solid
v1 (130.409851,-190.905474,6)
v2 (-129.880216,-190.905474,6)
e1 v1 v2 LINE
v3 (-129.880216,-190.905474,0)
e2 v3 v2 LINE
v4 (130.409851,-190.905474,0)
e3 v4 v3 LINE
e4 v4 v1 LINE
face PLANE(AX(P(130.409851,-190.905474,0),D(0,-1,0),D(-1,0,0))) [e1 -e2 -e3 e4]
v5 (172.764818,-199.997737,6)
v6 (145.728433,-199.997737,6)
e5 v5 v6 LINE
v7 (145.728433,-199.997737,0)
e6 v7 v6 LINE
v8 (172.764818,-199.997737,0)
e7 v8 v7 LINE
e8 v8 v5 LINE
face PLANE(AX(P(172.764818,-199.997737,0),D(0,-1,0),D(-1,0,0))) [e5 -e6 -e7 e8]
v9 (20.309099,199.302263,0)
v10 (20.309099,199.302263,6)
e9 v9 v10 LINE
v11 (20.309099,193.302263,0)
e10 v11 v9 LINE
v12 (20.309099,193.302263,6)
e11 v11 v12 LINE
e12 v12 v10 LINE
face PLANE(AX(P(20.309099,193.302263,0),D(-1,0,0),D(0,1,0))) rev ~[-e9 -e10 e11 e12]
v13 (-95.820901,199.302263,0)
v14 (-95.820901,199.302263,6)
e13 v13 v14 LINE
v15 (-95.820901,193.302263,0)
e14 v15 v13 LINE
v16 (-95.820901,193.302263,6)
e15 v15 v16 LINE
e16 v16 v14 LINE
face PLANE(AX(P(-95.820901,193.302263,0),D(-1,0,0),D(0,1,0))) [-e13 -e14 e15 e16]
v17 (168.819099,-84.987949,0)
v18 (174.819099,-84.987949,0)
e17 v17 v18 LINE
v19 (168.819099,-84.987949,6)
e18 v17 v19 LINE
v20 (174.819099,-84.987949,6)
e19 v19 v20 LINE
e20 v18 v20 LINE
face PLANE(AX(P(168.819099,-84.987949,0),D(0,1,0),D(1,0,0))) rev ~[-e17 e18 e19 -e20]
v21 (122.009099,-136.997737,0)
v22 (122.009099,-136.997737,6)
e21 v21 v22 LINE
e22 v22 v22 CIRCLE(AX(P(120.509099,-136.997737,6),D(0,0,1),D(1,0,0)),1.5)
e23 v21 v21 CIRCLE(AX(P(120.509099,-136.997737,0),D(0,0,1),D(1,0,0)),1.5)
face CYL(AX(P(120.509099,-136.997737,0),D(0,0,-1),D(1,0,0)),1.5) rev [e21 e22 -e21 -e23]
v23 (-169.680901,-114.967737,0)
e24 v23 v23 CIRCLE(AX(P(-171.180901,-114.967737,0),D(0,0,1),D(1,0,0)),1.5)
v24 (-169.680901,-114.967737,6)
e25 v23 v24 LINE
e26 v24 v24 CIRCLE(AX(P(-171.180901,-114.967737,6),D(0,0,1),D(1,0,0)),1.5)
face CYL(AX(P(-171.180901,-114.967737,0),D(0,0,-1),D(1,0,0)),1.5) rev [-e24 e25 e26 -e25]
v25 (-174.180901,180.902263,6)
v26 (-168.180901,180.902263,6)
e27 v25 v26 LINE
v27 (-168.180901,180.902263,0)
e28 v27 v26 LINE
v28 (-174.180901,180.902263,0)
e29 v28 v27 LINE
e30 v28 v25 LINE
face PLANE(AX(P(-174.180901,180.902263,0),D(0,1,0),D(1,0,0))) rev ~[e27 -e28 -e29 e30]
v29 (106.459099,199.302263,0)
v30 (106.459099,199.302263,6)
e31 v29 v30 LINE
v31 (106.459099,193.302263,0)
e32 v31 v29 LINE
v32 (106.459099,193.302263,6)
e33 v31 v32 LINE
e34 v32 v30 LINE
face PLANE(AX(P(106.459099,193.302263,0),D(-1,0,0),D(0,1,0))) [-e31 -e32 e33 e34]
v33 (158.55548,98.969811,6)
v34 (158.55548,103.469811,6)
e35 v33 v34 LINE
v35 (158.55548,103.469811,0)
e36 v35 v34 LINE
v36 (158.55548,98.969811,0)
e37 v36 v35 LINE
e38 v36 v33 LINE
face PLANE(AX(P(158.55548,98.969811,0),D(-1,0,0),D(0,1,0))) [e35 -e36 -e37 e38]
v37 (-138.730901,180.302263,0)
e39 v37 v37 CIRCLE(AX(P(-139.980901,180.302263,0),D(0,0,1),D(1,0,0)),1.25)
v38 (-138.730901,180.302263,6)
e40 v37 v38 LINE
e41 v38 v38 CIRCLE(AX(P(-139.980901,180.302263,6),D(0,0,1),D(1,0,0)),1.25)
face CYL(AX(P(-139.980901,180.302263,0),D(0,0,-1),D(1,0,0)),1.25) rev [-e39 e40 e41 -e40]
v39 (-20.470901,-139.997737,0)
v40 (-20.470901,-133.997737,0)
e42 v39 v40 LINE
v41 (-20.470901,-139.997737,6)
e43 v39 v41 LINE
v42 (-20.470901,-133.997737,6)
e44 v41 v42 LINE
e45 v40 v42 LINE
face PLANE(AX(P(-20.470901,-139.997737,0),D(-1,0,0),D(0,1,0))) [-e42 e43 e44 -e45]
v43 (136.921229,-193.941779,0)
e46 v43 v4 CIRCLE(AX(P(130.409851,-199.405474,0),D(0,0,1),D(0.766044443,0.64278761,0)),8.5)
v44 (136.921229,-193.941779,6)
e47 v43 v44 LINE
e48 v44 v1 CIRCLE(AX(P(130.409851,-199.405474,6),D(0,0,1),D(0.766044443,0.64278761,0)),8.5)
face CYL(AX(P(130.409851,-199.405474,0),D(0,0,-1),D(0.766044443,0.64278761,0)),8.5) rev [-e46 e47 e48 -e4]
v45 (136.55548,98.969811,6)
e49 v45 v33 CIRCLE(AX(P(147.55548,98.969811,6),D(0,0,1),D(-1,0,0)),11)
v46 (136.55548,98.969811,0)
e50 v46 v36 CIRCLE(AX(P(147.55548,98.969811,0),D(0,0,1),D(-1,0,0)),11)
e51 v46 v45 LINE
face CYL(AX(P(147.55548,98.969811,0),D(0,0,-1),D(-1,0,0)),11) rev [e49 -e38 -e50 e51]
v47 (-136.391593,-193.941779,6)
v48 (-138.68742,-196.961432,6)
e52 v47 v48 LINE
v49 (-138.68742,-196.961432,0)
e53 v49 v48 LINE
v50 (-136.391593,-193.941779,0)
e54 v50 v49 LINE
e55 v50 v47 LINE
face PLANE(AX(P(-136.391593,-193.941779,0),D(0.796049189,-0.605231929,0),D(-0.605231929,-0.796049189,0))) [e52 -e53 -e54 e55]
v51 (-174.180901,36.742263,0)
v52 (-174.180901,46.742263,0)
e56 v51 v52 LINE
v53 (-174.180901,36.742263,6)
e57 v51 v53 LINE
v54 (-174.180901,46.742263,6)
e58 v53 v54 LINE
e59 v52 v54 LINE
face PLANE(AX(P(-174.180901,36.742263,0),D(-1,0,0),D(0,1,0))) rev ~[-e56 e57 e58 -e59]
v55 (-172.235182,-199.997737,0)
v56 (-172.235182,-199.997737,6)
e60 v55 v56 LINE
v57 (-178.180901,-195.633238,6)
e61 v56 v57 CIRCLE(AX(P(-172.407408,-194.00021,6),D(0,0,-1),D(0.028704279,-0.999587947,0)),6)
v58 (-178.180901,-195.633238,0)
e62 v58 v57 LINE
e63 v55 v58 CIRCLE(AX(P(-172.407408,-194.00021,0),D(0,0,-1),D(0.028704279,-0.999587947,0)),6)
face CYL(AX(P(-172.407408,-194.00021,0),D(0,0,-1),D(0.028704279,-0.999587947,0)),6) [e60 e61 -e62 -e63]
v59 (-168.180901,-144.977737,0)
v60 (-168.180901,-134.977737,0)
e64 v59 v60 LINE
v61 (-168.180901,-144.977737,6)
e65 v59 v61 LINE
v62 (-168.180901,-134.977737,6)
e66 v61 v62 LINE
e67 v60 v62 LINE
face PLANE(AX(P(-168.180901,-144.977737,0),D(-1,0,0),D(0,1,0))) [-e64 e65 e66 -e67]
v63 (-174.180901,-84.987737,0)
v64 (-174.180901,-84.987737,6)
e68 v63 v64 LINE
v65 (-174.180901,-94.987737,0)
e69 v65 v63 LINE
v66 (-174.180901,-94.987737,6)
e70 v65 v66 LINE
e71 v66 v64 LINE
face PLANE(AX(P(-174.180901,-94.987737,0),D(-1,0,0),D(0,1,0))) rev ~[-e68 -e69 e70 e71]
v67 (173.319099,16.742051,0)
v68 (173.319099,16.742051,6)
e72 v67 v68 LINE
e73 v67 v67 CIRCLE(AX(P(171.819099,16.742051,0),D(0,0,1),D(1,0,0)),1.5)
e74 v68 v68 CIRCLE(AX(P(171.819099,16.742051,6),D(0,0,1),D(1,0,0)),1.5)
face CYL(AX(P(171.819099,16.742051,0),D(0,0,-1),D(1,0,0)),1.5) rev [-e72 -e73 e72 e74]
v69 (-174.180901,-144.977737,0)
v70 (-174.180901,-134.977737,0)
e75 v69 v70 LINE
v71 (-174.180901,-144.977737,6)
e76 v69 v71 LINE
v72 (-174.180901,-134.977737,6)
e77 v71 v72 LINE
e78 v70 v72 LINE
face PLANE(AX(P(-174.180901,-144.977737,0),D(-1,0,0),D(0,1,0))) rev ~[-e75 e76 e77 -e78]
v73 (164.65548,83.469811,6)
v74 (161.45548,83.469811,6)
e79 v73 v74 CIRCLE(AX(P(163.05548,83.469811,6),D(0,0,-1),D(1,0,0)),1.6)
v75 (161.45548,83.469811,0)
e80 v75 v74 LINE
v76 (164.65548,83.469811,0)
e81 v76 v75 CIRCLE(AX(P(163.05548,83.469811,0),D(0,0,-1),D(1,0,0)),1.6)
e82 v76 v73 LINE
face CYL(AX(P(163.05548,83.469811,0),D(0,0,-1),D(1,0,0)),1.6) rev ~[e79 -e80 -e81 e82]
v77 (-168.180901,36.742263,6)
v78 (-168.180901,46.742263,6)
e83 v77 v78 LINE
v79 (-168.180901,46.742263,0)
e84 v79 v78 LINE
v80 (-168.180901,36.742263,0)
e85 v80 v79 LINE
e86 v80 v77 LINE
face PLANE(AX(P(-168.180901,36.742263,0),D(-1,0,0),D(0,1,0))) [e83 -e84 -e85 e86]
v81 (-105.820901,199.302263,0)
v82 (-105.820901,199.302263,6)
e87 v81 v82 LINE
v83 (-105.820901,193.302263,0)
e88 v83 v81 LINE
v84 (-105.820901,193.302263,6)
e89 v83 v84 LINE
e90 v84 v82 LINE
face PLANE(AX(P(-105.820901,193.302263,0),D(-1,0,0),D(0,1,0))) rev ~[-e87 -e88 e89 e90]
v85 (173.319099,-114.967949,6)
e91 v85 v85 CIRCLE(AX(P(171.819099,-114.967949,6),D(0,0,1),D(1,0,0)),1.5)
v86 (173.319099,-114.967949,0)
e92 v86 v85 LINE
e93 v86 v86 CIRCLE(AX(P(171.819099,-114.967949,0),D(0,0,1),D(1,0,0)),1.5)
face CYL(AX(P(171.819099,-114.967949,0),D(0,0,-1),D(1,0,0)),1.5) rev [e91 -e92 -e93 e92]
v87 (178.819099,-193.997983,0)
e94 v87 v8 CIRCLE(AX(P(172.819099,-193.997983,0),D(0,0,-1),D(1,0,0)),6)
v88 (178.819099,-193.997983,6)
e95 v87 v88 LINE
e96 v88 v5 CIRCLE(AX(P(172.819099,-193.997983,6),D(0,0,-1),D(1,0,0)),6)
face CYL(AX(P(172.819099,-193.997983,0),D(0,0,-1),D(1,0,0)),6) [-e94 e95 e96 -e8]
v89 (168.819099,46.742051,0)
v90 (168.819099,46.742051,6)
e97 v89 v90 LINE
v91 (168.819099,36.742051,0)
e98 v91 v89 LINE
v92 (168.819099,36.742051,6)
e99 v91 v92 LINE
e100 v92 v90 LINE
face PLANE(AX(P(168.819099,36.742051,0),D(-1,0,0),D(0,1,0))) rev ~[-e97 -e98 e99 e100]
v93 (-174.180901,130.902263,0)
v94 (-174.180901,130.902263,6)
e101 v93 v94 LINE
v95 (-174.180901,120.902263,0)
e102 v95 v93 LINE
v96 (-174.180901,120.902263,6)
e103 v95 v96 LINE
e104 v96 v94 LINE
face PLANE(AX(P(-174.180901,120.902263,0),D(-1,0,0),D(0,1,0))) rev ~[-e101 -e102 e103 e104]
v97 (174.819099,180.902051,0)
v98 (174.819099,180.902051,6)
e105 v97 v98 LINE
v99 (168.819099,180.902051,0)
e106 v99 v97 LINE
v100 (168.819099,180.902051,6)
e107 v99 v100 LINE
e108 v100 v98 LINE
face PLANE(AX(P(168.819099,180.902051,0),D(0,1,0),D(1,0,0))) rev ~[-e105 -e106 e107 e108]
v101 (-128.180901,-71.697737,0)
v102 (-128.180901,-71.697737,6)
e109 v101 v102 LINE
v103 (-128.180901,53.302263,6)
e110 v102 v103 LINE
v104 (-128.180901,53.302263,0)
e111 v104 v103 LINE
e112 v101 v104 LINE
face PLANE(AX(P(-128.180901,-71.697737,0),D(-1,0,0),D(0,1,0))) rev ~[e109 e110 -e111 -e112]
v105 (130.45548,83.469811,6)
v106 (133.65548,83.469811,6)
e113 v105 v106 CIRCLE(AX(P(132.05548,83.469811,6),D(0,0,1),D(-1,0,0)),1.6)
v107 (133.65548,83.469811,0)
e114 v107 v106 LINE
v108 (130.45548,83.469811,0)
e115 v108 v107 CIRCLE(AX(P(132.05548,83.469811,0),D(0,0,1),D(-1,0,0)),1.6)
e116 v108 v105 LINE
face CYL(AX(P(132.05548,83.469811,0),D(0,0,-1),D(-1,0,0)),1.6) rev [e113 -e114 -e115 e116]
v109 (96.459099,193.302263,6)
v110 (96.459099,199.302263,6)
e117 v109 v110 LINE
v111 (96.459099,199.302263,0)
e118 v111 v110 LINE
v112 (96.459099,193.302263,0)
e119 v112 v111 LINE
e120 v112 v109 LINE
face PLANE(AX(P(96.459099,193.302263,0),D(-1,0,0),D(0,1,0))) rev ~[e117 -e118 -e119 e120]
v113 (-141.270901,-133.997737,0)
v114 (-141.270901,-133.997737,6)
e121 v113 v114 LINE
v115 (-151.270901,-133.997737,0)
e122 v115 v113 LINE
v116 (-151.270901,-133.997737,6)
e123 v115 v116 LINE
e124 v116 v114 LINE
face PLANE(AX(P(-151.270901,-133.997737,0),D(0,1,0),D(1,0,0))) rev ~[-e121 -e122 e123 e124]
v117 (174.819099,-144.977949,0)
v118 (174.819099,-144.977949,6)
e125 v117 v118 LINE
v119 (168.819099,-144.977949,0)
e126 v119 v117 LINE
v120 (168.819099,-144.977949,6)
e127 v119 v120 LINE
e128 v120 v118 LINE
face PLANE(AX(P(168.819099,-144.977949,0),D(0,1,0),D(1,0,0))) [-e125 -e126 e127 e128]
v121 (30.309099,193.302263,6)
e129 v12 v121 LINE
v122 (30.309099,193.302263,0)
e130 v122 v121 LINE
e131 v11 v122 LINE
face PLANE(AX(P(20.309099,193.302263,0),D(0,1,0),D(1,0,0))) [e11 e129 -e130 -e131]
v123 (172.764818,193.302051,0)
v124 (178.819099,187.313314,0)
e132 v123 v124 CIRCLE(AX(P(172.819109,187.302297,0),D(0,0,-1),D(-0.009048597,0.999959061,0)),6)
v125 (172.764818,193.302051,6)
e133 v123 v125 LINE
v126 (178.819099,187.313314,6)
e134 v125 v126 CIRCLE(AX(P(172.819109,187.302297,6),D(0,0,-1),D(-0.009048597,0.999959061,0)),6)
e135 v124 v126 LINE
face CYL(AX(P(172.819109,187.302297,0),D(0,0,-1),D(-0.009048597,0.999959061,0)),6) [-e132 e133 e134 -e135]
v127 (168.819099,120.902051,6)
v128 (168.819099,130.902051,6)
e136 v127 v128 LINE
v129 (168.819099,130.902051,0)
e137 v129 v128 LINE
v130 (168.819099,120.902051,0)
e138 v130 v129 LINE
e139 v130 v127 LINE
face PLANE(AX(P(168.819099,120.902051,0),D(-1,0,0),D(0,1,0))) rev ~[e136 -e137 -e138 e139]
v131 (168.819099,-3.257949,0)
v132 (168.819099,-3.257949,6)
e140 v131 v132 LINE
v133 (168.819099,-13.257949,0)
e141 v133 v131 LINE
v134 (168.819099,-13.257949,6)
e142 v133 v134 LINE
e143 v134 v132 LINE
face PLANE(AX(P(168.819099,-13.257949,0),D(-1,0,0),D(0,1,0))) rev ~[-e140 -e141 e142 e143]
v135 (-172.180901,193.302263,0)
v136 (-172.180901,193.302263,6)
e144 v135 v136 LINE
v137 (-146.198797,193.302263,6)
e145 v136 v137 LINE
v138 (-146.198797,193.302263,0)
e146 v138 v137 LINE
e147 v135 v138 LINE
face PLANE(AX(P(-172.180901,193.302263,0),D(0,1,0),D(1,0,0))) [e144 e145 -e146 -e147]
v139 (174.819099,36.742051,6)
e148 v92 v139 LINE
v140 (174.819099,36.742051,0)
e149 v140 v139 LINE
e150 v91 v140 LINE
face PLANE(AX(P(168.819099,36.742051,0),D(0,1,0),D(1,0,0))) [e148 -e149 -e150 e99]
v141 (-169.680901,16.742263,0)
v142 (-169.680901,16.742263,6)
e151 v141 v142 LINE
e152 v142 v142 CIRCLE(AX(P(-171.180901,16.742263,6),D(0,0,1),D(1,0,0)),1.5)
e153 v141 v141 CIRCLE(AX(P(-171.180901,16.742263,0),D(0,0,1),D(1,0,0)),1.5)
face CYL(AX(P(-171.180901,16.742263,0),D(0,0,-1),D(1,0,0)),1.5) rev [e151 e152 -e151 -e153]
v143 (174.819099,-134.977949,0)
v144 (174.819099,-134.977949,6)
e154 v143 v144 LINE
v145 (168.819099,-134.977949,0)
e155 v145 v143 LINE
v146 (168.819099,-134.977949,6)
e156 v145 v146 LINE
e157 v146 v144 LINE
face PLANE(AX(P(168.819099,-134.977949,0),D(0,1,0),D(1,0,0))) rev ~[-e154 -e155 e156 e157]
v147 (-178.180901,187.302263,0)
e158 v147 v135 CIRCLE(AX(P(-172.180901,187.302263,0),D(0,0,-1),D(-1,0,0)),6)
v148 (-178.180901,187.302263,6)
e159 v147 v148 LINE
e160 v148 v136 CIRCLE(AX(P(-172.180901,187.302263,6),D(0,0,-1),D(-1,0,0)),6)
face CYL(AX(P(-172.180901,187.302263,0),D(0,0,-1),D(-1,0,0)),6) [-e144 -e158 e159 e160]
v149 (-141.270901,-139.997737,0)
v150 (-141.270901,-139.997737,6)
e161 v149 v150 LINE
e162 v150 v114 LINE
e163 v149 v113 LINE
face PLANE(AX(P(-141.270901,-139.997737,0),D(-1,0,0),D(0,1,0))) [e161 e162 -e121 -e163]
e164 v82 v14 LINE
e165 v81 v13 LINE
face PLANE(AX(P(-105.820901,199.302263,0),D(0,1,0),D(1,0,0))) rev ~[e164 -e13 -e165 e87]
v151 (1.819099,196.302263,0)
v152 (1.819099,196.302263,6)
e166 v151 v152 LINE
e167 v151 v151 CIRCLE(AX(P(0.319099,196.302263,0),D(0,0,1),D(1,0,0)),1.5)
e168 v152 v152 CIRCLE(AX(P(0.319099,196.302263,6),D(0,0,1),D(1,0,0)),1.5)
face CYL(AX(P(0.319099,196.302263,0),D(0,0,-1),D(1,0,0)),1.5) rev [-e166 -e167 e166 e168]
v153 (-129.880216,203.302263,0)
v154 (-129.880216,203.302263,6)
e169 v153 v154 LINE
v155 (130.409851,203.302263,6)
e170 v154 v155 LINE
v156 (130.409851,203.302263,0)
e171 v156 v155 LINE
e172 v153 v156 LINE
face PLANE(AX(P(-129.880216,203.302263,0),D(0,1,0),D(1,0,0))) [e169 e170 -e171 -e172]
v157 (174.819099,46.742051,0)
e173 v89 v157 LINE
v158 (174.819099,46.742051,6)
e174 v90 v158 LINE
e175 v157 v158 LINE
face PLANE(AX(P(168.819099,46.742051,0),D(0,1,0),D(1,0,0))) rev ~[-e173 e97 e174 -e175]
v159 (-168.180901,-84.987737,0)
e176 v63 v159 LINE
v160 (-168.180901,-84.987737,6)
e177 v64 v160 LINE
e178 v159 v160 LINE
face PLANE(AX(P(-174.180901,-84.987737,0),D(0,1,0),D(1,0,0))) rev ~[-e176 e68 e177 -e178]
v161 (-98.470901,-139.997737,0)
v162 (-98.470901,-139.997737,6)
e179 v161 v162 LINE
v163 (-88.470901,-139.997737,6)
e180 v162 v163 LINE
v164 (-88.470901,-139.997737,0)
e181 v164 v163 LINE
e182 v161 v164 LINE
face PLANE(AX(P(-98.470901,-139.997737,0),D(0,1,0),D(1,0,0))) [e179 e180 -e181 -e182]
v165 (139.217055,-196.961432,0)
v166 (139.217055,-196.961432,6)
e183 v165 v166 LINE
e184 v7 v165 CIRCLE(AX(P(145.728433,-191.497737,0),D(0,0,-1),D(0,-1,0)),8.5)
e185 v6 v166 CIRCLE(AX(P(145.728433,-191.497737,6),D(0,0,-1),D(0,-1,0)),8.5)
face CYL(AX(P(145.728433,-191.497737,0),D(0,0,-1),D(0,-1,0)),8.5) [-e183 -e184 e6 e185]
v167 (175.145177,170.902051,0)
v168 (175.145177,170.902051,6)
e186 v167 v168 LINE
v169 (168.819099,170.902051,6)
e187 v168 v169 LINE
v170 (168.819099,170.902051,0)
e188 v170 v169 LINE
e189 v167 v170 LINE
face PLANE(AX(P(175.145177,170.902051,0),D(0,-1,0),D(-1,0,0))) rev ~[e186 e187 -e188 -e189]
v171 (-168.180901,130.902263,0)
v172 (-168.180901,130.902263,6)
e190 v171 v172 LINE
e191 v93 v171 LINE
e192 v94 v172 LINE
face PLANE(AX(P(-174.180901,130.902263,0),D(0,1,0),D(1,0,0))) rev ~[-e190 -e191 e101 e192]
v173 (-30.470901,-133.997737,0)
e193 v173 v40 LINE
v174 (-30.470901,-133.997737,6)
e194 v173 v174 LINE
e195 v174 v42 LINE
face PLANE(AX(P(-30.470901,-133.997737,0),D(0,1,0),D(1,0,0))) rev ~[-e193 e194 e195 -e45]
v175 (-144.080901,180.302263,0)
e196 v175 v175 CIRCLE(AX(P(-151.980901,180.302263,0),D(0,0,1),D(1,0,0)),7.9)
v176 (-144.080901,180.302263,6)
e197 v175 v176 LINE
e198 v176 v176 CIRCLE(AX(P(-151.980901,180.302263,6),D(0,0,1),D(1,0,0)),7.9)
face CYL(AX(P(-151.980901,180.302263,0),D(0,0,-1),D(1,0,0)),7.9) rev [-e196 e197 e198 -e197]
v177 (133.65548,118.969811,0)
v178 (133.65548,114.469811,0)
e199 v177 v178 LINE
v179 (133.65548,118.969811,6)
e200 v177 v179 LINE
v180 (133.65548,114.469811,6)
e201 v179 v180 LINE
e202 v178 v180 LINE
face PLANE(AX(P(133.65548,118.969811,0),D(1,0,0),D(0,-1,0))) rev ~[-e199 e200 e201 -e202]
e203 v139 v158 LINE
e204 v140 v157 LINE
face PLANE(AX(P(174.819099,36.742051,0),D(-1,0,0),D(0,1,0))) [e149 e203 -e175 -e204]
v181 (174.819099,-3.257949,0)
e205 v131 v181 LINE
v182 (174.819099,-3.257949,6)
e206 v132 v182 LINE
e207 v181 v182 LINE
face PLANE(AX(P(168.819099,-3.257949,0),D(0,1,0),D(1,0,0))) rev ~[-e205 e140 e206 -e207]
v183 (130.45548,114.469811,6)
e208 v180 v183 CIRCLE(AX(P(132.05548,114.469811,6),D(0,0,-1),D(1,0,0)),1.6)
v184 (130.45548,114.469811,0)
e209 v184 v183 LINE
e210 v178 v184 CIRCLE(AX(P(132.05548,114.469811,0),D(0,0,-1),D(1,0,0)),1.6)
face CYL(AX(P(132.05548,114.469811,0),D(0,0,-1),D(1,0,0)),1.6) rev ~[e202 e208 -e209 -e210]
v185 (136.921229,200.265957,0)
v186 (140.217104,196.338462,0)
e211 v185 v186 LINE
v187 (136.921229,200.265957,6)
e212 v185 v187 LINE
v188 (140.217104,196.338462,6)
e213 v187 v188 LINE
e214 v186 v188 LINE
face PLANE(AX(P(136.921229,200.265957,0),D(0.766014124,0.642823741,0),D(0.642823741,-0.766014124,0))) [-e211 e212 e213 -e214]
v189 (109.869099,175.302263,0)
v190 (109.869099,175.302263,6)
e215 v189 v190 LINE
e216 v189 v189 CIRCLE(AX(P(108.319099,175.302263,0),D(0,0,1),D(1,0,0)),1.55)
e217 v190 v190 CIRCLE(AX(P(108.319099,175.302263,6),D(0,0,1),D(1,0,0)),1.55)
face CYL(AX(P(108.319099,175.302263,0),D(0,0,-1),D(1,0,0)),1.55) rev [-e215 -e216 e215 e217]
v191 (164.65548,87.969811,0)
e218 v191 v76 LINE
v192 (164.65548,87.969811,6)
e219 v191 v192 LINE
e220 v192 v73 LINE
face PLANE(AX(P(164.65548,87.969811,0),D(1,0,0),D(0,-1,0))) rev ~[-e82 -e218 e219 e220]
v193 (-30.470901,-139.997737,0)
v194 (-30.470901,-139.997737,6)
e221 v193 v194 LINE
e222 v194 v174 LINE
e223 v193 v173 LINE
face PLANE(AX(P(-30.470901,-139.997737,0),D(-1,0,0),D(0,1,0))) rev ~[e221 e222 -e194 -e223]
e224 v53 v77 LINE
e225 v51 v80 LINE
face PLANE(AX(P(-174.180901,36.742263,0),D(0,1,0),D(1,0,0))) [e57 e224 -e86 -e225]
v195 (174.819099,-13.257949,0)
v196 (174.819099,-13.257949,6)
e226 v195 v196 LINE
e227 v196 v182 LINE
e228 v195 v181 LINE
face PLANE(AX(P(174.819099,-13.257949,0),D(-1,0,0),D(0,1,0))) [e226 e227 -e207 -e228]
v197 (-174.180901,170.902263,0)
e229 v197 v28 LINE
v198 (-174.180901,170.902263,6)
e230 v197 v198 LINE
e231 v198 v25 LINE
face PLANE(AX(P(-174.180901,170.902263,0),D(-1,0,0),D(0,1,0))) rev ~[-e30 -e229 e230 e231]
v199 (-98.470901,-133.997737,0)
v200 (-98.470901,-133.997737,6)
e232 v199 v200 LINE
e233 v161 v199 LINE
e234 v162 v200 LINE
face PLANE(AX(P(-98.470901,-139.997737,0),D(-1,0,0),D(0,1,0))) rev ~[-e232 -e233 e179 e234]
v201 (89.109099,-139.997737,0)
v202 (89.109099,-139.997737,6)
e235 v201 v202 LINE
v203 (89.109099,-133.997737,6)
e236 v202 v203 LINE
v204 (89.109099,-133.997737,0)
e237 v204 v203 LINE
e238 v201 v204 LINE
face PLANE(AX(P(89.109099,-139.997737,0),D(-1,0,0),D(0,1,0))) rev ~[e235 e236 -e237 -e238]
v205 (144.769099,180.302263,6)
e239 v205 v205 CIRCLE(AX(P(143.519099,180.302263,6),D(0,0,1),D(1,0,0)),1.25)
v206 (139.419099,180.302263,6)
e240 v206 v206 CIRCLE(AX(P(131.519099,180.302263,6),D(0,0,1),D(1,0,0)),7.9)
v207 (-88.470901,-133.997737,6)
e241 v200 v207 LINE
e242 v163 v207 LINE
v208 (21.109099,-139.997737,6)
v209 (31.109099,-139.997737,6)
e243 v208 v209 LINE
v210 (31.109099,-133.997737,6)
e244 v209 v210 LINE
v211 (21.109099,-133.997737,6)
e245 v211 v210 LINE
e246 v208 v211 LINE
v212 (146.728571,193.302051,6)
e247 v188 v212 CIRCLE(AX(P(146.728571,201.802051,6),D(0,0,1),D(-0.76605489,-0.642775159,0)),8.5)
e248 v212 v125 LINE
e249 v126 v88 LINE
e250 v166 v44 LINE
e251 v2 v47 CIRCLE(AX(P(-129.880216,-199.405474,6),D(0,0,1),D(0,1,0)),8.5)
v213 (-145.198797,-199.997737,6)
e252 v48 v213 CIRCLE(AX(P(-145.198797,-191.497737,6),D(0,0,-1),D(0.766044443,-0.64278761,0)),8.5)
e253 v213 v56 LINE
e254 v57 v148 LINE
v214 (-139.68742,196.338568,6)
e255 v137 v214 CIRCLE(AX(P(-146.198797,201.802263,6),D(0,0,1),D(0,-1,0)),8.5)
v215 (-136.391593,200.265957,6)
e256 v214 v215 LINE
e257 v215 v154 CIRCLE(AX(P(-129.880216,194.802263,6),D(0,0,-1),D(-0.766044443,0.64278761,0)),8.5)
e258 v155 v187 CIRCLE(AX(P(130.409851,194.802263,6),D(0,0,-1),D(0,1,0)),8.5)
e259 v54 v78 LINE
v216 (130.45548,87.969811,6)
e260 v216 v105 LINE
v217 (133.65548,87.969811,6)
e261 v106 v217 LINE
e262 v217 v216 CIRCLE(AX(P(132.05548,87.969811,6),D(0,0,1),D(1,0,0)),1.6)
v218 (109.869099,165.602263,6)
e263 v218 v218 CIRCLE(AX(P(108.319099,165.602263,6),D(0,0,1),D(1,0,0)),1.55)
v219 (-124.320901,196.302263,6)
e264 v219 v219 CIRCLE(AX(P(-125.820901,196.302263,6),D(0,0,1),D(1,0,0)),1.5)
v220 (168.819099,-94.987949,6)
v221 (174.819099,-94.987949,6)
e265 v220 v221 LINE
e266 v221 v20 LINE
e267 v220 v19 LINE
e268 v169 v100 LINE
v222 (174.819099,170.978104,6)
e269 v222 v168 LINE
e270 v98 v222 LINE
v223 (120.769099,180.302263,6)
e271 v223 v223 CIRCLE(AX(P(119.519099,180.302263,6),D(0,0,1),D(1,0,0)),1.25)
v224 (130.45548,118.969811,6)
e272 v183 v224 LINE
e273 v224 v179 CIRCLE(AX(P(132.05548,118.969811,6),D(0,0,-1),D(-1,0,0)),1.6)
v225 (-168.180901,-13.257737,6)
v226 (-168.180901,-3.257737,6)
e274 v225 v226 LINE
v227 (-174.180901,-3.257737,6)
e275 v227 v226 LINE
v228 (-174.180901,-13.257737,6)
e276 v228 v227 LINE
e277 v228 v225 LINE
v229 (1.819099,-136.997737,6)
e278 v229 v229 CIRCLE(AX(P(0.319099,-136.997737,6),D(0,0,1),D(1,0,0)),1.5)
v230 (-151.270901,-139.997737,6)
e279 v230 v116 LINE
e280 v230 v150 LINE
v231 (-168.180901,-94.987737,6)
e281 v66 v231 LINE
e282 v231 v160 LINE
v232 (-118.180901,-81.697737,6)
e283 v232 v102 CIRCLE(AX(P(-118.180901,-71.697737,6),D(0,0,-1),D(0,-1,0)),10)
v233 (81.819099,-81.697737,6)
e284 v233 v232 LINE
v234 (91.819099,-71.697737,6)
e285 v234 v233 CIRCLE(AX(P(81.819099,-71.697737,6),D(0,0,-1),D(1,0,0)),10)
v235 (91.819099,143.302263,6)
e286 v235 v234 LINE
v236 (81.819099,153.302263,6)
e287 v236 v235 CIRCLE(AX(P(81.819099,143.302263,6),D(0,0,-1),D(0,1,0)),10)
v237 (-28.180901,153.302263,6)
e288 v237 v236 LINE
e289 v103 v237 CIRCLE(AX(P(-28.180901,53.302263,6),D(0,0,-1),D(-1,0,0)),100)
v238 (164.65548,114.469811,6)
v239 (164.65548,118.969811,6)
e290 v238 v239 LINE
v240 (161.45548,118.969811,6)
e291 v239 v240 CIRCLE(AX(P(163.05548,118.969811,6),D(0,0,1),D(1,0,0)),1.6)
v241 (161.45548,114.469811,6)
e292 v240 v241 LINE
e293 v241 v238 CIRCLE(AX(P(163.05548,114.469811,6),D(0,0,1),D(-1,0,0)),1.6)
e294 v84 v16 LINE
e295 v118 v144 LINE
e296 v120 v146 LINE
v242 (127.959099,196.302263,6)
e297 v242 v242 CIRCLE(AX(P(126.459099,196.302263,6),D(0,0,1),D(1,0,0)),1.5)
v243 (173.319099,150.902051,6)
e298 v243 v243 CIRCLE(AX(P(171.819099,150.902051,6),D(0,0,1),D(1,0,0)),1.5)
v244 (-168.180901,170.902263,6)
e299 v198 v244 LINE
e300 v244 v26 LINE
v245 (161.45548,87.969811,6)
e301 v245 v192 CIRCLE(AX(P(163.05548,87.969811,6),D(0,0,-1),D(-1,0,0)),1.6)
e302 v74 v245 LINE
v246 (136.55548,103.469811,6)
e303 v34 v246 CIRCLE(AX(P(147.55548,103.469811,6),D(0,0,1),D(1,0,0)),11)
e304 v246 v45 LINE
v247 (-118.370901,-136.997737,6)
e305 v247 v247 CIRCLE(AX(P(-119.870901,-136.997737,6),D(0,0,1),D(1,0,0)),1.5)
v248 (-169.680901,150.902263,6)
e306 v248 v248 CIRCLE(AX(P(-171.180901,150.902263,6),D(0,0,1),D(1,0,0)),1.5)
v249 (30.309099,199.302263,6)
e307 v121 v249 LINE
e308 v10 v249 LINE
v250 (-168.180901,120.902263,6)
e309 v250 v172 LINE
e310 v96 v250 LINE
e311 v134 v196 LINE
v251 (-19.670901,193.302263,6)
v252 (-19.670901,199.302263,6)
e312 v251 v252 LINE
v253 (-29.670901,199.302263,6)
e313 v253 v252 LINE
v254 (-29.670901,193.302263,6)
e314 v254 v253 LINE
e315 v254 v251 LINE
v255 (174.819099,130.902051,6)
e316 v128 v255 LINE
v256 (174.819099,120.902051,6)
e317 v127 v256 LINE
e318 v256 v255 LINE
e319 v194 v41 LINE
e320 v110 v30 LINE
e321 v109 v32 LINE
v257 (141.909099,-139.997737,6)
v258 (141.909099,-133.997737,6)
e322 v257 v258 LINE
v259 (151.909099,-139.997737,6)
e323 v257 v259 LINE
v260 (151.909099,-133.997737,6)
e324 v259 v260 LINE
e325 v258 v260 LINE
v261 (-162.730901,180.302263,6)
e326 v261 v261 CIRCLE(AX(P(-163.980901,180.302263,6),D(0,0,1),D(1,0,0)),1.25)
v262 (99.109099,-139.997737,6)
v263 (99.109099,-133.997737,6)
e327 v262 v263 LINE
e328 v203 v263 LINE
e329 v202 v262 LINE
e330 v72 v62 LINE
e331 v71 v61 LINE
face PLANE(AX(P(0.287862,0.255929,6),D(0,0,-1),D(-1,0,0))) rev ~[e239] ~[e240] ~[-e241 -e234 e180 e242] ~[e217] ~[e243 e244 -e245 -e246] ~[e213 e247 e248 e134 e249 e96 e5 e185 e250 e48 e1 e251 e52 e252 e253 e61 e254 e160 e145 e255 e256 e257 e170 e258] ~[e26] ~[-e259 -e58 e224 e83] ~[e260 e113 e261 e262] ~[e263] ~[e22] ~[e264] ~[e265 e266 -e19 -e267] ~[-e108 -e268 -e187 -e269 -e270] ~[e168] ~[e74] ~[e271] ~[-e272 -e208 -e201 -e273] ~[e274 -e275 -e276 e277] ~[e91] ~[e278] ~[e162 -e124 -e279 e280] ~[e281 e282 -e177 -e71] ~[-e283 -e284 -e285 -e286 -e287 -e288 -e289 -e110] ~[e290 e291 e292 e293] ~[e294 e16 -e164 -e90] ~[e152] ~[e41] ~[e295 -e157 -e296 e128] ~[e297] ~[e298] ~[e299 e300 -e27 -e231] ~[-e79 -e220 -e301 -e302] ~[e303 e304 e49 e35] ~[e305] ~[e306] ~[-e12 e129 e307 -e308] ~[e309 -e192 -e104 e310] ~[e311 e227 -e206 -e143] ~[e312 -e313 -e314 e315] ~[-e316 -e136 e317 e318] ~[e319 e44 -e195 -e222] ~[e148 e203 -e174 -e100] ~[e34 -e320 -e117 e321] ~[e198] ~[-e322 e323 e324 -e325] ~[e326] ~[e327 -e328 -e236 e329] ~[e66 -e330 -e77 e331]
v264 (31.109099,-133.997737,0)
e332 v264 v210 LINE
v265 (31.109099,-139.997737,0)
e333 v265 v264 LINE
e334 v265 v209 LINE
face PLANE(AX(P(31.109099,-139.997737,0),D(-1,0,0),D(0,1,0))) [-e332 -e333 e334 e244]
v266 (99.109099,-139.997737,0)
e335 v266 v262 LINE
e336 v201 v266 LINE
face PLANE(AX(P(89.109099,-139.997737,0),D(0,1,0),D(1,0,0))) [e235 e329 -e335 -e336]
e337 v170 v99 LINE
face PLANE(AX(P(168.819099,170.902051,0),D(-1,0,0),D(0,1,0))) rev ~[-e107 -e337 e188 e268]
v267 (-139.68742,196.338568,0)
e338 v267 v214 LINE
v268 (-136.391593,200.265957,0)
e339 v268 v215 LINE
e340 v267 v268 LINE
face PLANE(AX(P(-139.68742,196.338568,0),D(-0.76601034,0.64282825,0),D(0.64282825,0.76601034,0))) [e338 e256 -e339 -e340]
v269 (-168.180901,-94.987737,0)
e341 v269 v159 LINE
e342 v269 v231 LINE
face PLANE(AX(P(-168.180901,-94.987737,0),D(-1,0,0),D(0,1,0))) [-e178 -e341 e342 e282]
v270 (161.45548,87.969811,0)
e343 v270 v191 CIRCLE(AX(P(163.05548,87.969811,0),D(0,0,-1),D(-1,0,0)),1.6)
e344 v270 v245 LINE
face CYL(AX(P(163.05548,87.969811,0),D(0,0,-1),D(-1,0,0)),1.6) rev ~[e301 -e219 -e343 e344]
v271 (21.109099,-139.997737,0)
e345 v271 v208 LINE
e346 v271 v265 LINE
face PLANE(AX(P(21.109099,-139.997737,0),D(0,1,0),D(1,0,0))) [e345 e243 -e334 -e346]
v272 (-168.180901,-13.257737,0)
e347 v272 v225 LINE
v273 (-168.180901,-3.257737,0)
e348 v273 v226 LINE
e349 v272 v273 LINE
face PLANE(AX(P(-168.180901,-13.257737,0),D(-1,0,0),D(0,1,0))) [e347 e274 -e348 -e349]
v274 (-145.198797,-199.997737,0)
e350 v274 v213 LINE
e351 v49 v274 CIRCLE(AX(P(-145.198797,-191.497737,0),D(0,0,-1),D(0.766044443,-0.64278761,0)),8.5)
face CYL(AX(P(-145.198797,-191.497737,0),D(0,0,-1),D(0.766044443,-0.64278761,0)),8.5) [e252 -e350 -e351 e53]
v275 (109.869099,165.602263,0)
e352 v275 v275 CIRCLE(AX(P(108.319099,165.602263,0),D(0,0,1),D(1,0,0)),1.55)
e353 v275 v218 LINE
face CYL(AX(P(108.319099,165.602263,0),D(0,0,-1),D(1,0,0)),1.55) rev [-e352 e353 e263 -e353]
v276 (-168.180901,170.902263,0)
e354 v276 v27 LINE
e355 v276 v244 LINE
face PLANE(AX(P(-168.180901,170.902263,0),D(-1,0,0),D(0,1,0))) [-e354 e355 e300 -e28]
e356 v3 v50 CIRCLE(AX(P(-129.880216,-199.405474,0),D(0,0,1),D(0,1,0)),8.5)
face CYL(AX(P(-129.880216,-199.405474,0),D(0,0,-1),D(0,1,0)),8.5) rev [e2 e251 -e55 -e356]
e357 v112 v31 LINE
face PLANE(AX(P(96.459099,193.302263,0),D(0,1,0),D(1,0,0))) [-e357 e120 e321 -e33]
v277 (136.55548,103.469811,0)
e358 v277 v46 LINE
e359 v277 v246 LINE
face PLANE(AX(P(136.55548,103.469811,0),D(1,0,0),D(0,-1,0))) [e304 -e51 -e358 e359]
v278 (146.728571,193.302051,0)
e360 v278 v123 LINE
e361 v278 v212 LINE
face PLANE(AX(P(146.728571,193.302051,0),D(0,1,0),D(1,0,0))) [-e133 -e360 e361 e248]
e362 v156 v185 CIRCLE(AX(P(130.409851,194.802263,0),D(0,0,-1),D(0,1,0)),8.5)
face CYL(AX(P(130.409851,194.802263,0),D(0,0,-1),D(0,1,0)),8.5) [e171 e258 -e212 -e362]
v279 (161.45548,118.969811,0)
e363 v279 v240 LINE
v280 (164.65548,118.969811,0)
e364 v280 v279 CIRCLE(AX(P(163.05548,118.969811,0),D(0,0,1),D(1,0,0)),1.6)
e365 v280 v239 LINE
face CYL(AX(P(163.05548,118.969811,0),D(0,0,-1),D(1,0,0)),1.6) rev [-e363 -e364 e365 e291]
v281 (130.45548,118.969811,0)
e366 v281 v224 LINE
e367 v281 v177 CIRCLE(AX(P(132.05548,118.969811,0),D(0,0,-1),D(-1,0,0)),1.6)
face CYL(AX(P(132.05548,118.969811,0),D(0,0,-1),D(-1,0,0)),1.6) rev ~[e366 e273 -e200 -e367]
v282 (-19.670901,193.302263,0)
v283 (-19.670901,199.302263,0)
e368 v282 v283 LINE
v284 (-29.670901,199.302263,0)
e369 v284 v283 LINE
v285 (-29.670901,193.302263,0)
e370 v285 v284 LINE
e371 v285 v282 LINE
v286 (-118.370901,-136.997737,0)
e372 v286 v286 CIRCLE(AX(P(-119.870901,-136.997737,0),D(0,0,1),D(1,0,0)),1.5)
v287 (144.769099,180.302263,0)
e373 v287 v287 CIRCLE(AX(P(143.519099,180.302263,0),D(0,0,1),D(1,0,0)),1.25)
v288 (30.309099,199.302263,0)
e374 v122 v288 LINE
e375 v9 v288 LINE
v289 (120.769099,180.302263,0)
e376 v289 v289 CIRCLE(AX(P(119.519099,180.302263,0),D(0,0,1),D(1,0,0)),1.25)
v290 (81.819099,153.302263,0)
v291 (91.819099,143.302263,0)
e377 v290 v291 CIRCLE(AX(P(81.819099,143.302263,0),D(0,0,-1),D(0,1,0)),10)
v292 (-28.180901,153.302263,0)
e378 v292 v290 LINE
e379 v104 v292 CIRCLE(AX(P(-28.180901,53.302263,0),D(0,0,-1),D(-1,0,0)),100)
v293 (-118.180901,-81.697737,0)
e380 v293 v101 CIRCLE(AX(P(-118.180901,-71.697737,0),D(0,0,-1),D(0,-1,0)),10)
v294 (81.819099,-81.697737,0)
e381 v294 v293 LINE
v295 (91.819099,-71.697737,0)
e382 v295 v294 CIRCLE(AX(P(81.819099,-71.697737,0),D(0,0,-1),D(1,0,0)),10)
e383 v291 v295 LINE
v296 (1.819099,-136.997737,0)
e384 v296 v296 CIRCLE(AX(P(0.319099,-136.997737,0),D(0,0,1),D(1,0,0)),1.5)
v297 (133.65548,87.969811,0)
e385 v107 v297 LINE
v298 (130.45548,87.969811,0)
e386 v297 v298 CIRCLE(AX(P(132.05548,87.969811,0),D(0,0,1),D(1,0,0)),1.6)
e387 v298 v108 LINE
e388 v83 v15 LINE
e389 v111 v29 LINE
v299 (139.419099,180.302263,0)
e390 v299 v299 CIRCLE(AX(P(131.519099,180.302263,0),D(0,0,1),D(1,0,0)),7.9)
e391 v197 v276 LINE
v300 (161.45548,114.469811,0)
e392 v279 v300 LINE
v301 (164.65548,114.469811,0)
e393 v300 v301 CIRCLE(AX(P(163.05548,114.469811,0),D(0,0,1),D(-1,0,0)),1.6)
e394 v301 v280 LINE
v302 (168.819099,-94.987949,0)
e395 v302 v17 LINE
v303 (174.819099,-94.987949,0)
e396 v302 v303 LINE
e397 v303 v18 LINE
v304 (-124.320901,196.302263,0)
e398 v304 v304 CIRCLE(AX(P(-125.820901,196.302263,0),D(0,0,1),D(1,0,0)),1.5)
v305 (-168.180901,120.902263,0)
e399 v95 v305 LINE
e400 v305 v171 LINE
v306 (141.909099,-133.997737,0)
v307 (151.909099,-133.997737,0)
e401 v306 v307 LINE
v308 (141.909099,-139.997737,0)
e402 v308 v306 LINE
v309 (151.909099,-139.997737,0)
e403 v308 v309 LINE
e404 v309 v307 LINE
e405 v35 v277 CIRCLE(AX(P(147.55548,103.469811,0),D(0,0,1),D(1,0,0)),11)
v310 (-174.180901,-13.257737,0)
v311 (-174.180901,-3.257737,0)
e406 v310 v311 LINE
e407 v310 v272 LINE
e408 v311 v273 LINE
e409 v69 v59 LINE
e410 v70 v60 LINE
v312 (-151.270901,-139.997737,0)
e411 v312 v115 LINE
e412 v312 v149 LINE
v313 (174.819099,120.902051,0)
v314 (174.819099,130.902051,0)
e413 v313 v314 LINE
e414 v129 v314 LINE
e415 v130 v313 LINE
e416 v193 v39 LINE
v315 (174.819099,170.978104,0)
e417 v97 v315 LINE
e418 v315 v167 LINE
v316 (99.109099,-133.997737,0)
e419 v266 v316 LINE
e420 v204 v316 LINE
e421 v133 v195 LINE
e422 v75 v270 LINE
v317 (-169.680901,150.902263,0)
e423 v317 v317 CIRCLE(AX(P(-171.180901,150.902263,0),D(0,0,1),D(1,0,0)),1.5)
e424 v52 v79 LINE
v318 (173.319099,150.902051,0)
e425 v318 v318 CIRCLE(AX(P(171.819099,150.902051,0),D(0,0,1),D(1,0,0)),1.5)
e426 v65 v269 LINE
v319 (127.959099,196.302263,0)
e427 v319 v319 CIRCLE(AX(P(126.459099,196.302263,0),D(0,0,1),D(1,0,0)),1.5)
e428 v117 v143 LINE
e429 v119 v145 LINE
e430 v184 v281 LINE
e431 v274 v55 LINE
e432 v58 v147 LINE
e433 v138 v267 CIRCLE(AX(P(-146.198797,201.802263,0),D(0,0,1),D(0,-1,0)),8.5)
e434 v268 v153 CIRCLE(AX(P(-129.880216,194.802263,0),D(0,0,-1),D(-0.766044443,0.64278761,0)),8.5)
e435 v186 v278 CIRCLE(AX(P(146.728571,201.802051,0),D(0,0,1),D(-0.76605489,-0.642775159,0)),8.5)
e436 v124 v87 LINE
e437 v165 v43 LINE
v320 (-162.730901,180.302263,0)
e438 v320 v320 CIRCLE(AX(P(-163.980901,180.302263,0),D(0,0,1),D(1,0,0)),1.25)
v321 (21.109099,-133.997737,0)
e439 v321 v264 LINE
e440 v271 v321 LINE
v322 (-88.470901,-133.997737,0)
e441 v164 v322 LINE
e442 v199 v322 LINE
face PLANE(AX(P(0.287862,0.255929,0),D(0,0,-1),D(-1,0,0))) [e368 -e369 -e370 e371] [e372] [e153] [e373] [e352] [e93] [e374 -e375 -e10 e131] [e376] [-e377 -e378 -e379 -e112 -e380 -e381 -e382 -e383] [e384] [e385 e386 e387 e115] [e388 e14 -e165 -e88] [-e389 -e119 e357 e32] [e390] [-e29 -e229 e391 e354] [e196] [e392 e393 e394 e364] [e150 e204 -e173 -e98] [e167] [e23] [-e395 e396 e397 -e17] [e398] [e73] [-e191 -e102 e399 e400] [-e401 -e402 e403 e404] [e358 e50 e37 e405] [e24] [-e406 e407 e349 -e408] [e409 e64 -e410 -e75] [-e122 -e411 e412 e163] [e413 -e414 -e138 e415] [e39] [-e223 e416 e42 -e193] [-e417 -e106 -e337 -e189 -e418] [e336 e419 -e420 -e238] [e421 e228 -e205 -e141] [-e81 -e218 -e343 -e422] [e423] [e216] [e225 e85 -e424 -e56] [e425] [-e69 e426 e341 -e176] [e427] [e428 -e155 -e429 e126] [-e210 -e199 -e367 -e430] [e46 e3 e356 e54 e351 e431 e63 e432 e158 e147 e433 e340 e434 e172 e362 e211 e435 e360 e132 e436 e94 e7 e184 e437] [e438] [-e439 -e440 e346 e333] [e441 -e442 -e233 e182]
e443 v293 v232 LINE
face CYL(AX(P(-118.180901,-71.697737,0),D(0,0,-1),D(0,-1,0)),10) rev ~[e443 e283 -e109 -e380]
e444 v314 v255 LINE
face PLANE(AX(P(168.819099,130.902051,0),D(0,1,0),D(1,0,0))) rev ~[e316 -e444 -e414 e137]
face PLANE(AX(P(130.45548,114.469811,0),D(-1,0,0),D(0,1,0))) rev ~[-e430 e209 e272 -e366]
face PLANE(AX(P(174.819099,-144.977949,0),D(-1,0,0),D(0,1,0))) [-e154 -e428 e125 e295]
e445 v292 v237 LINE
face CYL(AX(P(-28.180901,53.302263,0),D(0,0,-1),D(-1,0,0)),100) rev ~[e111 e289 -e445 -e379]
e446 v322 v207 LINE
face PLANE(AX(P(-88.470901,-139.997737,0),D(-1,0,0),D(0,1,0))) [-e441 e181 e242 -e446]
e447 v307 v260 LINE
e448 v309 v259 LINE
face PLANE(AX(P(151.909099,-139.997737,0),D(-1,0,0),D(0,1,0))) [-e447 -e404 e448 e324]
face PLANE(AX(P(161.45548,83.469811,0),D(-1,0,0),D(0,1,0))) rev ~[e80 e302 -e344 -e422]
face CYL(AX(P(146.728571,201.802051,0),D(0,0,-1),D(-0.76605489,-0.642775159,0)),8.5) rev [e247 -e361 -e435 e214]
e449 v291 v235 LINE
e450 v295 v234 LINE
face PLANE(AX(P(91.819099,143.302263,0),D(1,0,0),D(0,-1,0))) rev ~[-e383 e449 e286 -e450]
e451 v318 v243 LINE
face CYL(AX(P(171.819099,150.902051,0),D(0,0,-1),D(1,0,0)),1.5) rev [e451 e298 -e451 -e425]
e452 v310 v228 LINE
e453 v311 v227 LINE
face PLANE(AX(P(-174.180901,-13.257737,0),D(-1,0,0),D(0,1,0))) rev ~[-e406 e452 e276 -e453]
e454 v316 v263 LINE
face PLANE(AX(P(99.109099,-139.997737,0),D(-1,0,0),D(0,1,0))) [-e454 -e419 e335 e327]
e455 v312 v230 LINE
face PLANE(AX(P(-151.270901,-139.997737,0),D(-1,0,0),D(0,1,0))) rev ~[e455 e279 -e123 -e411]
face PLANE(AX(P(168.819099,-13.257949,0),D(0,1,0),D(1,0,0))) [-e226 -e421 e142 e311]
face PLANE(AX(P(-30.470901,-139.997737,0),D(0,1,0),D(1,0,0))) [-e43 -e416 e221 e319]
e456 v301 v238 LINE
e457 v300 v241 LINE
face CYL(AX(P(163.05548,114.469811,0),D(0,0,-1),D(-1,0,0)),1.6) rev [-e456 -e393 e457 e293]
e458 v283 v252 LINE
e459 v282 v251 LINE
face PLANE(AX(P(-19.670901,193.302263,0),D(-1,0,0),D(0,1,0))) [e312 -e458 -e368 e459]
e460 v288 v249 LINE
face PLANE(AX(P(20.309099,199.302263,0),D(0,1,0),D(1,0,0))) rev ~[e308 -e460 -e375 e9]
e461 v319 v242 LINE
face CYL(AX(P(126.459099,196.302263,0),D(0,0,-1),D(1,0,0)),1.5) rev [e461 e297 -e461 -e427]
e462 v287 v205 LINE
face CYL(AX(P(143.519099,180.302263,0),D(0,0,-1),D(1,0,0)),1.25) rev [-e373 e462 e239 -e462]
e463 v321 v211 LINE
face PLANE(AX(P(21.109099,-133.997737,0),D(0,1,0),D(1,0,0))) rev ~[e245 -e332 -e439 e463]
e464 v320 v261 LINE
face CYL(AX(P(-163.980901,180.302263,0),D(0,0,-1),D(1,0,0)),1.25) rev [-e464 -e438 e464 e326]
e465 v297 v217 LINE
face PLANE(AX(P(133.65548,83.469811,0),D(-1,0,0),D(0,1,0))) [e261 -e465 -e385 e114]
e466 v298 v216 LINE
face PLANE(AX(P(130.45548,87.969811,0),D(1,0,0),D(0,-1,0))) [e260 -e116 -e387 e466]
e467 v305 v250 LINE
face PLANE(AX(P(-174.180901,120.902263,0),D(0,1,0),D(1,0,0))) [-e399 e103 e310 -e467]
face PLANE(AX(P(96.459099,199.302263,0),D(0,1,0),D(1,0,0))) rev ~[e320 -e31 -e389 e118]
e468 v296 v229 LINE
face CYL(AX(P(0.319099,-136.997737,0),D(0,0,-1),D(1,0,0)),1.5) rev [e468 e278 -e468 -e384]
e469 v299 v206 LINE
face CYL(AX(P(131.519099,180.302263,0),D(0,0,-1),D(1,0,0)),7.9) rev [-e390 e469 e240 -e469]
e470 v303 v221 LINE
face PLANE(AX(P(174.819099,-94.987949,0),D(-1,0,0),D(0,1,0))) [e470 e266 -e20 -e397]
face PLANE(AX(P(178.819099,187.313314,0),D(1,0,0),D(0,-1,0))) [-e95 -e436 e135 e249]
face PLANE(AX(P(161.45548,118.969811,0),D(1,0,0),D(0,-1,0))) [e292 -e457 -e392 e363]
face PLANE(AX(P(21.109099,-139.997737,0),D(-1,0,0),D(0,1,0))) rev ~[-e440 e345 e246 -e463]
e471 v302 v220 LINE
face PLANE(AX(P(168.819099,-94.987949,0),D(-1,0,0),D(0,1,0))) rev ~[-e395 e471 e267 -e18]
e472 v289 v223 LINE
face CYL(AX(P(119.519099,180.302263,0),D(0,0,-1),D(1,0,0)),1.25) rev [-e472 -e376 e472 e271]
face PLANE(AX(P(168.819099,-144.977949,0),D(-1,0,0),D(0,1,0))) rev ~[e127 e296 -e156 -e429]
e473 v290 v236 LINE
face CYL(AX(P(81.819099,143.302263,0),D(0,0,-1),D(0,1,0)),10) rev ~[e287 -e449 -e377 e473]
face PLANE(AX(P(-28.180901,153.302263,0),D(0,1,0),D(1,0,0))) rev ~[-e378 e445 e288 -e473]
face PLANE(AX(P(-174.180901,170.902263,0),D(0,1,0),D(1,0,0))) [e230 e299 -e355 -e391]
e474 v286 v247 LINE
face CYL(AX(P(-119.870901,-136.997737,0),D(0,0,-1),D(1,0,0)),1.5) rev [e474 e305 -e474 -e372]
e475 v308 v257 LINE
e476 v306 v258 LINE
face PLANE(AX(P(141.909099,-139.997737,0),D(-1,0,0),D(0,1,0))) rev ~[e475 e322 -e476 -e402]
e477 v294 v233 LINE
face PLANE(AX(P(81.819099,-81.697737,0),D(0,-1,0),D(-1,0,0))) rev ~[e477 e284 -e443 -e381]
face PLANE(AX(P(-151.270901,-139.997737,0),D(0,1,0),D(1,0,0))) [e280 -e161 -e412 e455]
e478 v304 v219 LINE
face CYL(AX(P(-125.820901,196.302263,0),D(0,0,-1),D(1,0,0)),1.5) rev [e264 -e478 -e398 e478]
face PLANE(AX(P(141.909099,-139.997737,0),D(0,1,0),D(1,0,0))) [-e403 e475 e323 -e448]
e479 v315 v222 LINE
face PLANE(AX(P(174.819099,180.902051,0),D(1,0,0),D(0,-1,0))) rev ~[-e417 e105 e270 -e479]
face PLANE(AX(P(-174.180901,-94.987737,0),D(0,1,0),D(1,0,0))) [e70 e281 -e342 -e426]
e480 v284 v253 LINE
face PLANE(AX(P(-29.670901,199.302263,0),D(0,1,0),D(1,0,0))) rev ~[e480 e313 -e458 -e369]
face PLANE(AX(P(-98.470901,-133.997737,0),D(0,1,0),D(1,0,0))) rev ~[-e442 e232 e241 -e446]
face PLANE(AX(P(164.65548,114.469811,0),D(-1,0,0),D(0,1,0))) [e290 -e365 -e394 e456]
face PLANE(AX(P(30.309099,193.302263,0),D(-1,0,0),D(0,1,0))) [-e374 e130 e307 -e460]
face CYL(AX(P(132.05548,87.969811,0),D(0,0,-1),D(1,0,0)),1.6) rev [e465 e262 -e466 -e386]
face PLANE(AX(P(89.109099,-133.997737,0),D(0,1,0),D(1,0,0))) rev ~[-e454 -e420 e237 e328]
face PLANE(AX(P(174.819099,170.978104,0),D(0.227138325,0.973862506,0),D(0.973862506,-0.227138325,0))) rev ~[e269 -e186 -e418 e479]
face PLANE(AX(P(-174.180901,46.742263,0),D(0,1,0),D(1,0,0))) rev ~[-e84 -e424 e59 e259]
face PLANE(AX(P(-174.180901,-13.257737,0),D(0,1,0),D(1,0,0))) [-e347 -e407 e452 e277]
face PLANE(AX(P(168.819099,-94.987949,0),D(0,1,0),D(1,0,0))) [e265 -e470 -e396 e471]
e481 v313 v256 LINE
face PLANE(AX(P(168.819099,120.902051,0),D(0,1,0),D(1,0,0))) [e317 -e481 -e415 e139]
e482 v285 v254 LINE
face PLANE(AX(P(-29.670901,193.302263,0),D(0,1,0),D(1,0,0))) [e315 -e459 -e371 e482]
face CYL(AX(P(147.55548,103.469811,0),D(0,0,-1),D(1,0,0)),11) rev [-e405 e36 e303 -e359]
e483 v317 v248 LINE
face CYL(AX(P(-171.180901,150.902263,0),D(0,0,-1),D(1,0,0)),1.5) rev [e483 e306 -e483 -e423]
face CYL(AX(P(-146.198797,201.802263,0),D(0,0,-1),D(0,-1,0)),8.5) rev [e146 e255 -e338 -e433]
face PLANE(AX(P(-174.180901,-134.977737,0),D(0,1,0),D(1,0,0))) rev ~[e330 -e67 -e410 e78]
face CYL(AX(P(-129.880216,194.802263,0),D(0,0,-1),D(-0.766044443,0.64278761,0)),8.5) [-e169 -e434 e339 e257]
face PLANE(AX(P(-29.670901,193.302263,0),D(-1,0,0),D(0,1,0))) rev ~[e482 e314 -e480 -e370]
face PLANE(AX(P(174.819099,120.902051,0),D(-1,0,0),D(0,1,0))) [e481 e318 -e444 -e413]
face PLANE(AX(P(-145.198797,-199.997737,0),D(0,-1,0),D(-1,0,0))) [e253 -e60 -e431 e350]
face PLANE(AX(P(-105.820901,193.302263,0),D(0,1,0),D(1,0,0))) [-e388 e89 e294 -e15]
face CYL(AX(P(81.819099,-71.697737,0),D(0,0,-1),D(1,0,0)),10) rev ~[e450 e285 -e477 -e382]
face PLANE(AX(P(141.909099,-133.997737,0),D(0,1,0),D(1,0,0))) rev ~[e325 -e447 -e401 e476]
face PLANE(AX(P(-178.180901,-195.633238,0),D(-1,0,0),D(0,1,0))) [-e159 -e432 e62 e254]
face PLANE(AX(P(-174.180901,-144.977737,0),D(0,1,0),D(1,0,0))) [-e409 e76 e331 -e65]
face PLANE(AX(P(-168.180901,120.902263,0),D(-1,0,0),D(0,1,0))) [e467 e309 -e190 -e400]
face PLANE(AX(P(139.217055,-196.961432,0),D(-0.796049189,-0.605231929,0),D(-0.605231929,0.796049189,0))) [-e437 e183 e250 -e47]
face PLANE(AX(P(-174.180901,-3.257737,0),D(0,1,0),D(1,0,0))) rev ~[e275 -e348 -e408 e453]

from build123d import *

# Parameters (mm, degrees)
SKETCH_1_R      = 1.55
SKETCH_1_R_2    = 7.9
SKETCH_1_R_3    = 1.500000002
SKETCH_1_R_4    = 1.500000001
SKETCH_1_R_5    = 1.5
SKETCH_1_R_6    = 1.25
SKETCH_1_W      = 6
SKETCH_1_H      = 10
SKETCH_1_W_2    = 10
SKETCH_1_H_2    = 6
EXTRUDE_1_DEPTH = 6


with BuildPart() as part:
    # Эскиз1 → Бобышка-Вытянуть1 (new body)
    with BuildSketch(Plane.XY):
        with BuildLine():
            Line((146.728571026, 193.302051095), (172.76481778, 193.302051095))
            ThreePointArc((172.76481778, 193.302051095), (177.038597027, 191.56796477), (178.819099243, 187.313313634))
            Line((178.819099243, 187.313313634), (178.819099243, -193.997982862))
            ThreePointArc((178.819099243, -193.997982862), (177.042504932, -198.259771734), (172.764817781, -199.997737318))
            Line((172.764817781, -199.997737318), (145.728432875, -199.997737318))
            ThreePointArc((145.728432875, -199.997737318), (142.13617765, -199.201353507), (139.217055109, -196.961432))
            Line((139.217055109, -196.961432), (136.921229056, -193.941778905))
            ThreePointArc((136.921229056, -193.941778905), (134.002106514, -191.701857397), (130.409851289, -190.905473587))
            Line((130.409851289, -190.905473587), (-129.880215727, -190.905473587))
            ThreePointArc((-129.880215727, -190.905473587), (-133.472470952, -191.701857397), (-136.391593494, -193.941778905))
            Line((-136.391593494, -193.941778905), (-138.687419547, -196.961432))
            ThreePointArc((-138.687419547, -196.961432), (-141.606542089, -199.201353507), (-145.198797314, -199.997737318))
            Line((-145.198797314, -199.997737318), (-172.235182219, -199.997737318))
            ThreePointArc((-172.235182219, -199.997737318), (-175.957867453, -198.836968562), (-178.180900757, -195.633237551))
            Line((-178.180900757, -195.633237551), (-178.180900757, 187.302262682))
            ThreePointArc((-178.180900757, 187.302262682), (-176.423541444, 191.54490337), (-172.180900757, 193.302262682))
            Line((-172.180900757, 193.302262682), (-146.198797315, 193.302262682))
            ThreePointArc((-146.198797315, 193.302262682), (-142.60654209, 194.098646493), (-139.687419548, 196.338568))
            Line((-139.687419548, 196.338568), (-136.391593495, 200.265957365))
            ThreePointArc((-136.391593495, 200.265957365), (-133.472470953, 202.505878872), (-129.880215728, 203.302262682))
            Line((-129.880215728, 203.302262682), (130.409851288, 203.302262682))
            ThreePointArc((130.409851288, 203.302262682), (134.002106513, 202.505878872), (136.921229055, 200.265957365))
            Line((136.921229055, 200.265957365), (140.217104458, 196.338462244))
            ThreePointArc((140.217104458, 196.338462244), (143.136253197, 194.098464098), (146.728571026, 193.302051095))
        make_face()
        with Locations((108.319099243, 165.602262682)):
            Circle(SKETCH_1_R, mode=Mode.SUBTRACT)
        with Locations((108.319099243, 175.302262682)):
            Circle(SKETCH_1_R, mode=Mode.SUBTRACT)
        with Locations((131.519099243, 180.302262682)):
            Circle(SKETCH_1_R_2, mode=Mode.SUBTRACT)
        with Locations((-151.980900757, 180.302262682)):
            Circle(SKETCH_1_R_2, mode=Mode.SUBTRACT)
        with Locations((-171.180900757, 150.902262682)):
            Circle(SKETCH_1_R_3, mode=Mode.SUBTRACT)
        with Locations((-171.180900757, 16.742262682)):
            Circle(SKETCH_1_R_4, mode=Mode.SUBTRACT)
        with Locations((171.819099243, 150.902051095)):
            Circle(SKETCH_1_R_4, mode=Mode.SUBTRACT)
        with Locations((126.459099243, 196.302262682)):
            Circle(SKETCH_1_R_5, mode=Mode.SUBTRACT)
        with Locations((-125.820900757, 196.302262682)):
            Circle(SKETCH_1_R_5, mode=Mode.SUBTRACT)
        with Locations((0.319099243, 196.302262682)):
            Circle(SKETCH_1_R_5, mode=Mode.SUBTRACT)
        with Locations((-119.870900757, -136.997737318)):
            Circle(SKETCH_1_R_5, mode=Mode.SUBTRACT)
        with Locations((-171.180900757, -114.967737318)):
            Circle(SKETCH_1_R_5, mode=Mode.SUBTRACT)
        with Locations((0.319099243, -136.997737318)):
            Circle(SKETCH_1_R_5, mode=Mode.SUBTRACT)
        with Locations((120.509099243, -136.997737318)):
            Circle(SKETCH_1_R_5, mode=Mode.SUBTRACT)
        with Locations((171.819099243, -114.967948905)):
            Circle(SKETCH_1_R_5, mode=Mode.SUBTRACT)
        with Locations((171.819099244, 16.742051095)):
            Circle(SKETCH_1_R_5, mode=Mode.SUBTRACT)
        with Locations((-139.980900757, 180.302262682)):
            Circle(SKETCH_1_R_6, mode=Mode.SUBTRACT)
        with Locations((-163.980900757, 180.302262682)):
            Circle(SKETCH_1_R_6, mode=Mode.SUBTRACT)
        with Locations((119.519099243, 180.302262682)):
            Circle(SKETCH_1_R_6, mode=Mode.SUBTRACT)
        with Locations((143.519099243, 180.302262682)):
            Circle(SKETCH_1_R_6, mode=Mode.SUBTRACT)
        with BuildLine():
            Line((133.65547985, 83.46981119), (133.65547985, 87.96981119))
            ThreePointArc((133.65547985, 87.96981119), (132.05547985, 89.56981119), (130.45547985, 87.96981119))
            Line((130.45547985, 87.96981119), (130.45547985, 83.46981119))
            ThreePointArc((130.45547985, 83.46981119), (132.05547985, 81.86981119), (133.65547985, 83.46981119))
        make_face(mode=Mode.SUBTRACT)
        with BuildLine():
            Line((133.65547985, 118.96981119), (133.65547985, 114.46981119))
            ThreePointArc((133.65547985, 114.46981119), (132.05547985, 112.86981119), (130.45547985, 114.46981119))
            Line((130.45547985, 114.46981119), (130.45547985, 118.96981119))
            ThreePointArc((130.45547985, 118.96981119), (132.05547985, 120.56981119), (133.65547985, 118.96981119))
        make_face(mode=Mode.SUBTRACT)
        with BuildLine():
            Line((158.55547985, 98.96981119), (158.55547985, 103.46981119))
            ThreePointArc((158.55547985, 103.46981119), (147.55547985, 114.46981119), (136.55547985, 103.46981119))
            Line((136.55547985, 103.46981119), (136.55547985, 98.96981119))
            ThreePointArc((136.55547985, 98.96981119), (147.55547985, 87.96981119), (158.55547985, 98.96981119))
        make_face(mode=Mode.SUBTRACT)
        with BuildLine():
            Line((161.45547985, 118.96981119), (161.45547985, 114.46981119))
            ThreePointArc((161.45547985, 114.46981119), (163.05547985, 112.86981119), (164.65547985, 114.46981119))
            Line((164.65547985, 114.46981119), (164.65547985, 118.96981119))
            ThreePointArc((164.65547985, 118.96981119), (163.05547985, 120.56981119), (161.45547985, 118.96981119))
        make_face(mode=Mode.SUBTRACT)
        with BuildLine():
            Line((161.45547985, 83.46981119), (161.45547985, 87.96981119))
            ThreePointArc((161.45547985, 87.96981119), (163.05547985, 89.56981119), (164.65547985, 87.96981119))
            Line((164.65547985, 87.96981119), (164.65547985, 83.46981119))
            ThreePointArc((164.65547985, 83.46981119), (163.05547985, 81.86981119), (161.45547985, 83.46981119))
        make_face(mode=Mode.SUBTRACT)
        with Locations((-171.180900756, 41.742262682)):
            Rectangle(SKETCH_1_W, SKETCH_1_H, mode=Mode.SUBTRACT)
        with Locations((94.109099243, -136.997737318)):
            Rectangle(SKETCH_1_W_2, SKETCH_1_H_2, mode=Mode.SUBTRACT)
        with Locations((146.909099243, -136.997737318)):
            Rectangle(SKETCH_1_W_2, SKETCH_1_H_2, mode=Mode.SUBTRACT)
        with Locations((-24.670900757, 196.302262682)):
            Rectangle(SKETCH_1_W_2, SKETCH_1_H_2, mode=Mode.SUBTRACT)
        with Locations((25.309099243, 196.302262682)):
            Rectangle(SKETCH_1_W_2, SKETCH_1_H_2, mode=Mode.SUBTRACT)
        with Locations((-146.270900757, -136.997737318)):
            Rectangle(SKETCH_1_W_2, SKETCH_1_H_2, mode=Mode.SUBTRACT)
        with Locations((-93.470900757, -136.997737318)):
            Rectangle(SKETCH_1_W_2, SKETCH_1_H_2, mode=Mode.SUBTRACT)
        with Locations((-25.470900757, -136.997737318)):
            Rectangle(SKETCH_1_W_2, SKETCH_1_H_2, mode=Mode.SUBTRACT)
        with Locations((26.109099243, -136.997737318)):
            Rectangle(SKETCH_1_W_2, SKETCH_1_H_2, mode=Mode.SUBTRACT)
        with Locations((-171.180900757, -8.257737318)):
            Rectangle(SKETCH_1_W, SKETCH_1_H, mode=Mode.SUBTRACT)
        with Locations((-171.180900757, 175.902262682)):
            Rectangle(SKETCH_1_W, SKETCH_1_H, mode=Mode.SUBTRACT)
        with Locations((-171.180900757, 125.902262682)):
            Rectangle(SKETCH_1_W, SKETCH_1_H, mode=Mode.SUBTRACT)
        with Locations((-171.180900756, -89.987737318)):
            Rectangle(SKETCH_1_W, SKETCH_1_H, mode=Mode.SUBTRACT)
        with Locations((-171.180900757, -139.977737318)):
            Rectangle(SKETCH_1_W, SKETCH_1_H, mode=Mode.SUBTRACT)
        with Locations((171.819099243, 41.742051095)):
            Rectangle(SKETCH_1_W, SKETCH_1_H, mode=Mode.SUBTRACT)
        with Locations((171.819099243, -8.257948905)):
            Rectangle(SKETCH_1_W, SKETCH_1_H, mode=Mode.SUBTRACT)
        with Locations((171.819099244, -89.987948905)):
            Rectangle(SKETCH_1_W, SKETCH_1_H, mode=Mode.SUBTRACT)
        with Locations((171.819099243, -139.977948905)):
            Rectangle(SKETCH_1_W, SKETCH_1_H, mode=Mode.SUBTRACT)
        Polygon((168.819099243, 170.902051095), (168.819099243, 180.902051095), (174.819099243, 180.902051095), (174.819099243, 170.978103712), (175.145177162, 170.902051095), align=None, mode=Mode.SUBTRACT)
        with Locations((171.819099243, 125.902051095)):
            Rectangle(SKETCH_1_W, SKETCH_1_H, mode=Mode.SUBTRACT)
        with Locations((-100.820900757, 196.302262682)):
            Rectangle(SKETCH_1_W_2, SKETCH_1_H_2, mode=Mode.SUBTRACT)
        with Locations((101.459099243, 196.302262682)):
            Rectangle(SKETCH_1_W_2, SKETCH_1_H_2, mode=Mode.SUBTRACT)
        with BuildLine():
            Line((-128.180900757, -71.697737318), (-128.180900757, 53.302262682))
            ThreePointArc((-128.180900757, 53.302262682), (-98.891578875, 124.012940801), (-28.180900757, 153.302262682))
            Line((-28.180900757, 153.302262682), (81.819099243, 153.302262682))
            ThreePointArc((81.819099243, 153.302262682), (88.890167055, 150.373330494), (91.819099243, 143.302262682))
            Line((91.819099243, 143.302262682), (91.819099243, -71.697737318))
            ThreePointArc((91.819099243, -71.697737318), (88.890167055, -78.768805129), (81.819099243, -81.697737318))
            Line((81.819099243, -81.697737318), (-118.180900757, -81.697737318))
            ThreePointArc((-118.180900757, -81.697737318), (-125.251968568, -78.768805129), (-128.180900757, -71.697737318))
        make_face(mode=Mode.SUBTRACT)
    extrude(amount=EXTRUDE_1_DEPTH)


solid = part.part
